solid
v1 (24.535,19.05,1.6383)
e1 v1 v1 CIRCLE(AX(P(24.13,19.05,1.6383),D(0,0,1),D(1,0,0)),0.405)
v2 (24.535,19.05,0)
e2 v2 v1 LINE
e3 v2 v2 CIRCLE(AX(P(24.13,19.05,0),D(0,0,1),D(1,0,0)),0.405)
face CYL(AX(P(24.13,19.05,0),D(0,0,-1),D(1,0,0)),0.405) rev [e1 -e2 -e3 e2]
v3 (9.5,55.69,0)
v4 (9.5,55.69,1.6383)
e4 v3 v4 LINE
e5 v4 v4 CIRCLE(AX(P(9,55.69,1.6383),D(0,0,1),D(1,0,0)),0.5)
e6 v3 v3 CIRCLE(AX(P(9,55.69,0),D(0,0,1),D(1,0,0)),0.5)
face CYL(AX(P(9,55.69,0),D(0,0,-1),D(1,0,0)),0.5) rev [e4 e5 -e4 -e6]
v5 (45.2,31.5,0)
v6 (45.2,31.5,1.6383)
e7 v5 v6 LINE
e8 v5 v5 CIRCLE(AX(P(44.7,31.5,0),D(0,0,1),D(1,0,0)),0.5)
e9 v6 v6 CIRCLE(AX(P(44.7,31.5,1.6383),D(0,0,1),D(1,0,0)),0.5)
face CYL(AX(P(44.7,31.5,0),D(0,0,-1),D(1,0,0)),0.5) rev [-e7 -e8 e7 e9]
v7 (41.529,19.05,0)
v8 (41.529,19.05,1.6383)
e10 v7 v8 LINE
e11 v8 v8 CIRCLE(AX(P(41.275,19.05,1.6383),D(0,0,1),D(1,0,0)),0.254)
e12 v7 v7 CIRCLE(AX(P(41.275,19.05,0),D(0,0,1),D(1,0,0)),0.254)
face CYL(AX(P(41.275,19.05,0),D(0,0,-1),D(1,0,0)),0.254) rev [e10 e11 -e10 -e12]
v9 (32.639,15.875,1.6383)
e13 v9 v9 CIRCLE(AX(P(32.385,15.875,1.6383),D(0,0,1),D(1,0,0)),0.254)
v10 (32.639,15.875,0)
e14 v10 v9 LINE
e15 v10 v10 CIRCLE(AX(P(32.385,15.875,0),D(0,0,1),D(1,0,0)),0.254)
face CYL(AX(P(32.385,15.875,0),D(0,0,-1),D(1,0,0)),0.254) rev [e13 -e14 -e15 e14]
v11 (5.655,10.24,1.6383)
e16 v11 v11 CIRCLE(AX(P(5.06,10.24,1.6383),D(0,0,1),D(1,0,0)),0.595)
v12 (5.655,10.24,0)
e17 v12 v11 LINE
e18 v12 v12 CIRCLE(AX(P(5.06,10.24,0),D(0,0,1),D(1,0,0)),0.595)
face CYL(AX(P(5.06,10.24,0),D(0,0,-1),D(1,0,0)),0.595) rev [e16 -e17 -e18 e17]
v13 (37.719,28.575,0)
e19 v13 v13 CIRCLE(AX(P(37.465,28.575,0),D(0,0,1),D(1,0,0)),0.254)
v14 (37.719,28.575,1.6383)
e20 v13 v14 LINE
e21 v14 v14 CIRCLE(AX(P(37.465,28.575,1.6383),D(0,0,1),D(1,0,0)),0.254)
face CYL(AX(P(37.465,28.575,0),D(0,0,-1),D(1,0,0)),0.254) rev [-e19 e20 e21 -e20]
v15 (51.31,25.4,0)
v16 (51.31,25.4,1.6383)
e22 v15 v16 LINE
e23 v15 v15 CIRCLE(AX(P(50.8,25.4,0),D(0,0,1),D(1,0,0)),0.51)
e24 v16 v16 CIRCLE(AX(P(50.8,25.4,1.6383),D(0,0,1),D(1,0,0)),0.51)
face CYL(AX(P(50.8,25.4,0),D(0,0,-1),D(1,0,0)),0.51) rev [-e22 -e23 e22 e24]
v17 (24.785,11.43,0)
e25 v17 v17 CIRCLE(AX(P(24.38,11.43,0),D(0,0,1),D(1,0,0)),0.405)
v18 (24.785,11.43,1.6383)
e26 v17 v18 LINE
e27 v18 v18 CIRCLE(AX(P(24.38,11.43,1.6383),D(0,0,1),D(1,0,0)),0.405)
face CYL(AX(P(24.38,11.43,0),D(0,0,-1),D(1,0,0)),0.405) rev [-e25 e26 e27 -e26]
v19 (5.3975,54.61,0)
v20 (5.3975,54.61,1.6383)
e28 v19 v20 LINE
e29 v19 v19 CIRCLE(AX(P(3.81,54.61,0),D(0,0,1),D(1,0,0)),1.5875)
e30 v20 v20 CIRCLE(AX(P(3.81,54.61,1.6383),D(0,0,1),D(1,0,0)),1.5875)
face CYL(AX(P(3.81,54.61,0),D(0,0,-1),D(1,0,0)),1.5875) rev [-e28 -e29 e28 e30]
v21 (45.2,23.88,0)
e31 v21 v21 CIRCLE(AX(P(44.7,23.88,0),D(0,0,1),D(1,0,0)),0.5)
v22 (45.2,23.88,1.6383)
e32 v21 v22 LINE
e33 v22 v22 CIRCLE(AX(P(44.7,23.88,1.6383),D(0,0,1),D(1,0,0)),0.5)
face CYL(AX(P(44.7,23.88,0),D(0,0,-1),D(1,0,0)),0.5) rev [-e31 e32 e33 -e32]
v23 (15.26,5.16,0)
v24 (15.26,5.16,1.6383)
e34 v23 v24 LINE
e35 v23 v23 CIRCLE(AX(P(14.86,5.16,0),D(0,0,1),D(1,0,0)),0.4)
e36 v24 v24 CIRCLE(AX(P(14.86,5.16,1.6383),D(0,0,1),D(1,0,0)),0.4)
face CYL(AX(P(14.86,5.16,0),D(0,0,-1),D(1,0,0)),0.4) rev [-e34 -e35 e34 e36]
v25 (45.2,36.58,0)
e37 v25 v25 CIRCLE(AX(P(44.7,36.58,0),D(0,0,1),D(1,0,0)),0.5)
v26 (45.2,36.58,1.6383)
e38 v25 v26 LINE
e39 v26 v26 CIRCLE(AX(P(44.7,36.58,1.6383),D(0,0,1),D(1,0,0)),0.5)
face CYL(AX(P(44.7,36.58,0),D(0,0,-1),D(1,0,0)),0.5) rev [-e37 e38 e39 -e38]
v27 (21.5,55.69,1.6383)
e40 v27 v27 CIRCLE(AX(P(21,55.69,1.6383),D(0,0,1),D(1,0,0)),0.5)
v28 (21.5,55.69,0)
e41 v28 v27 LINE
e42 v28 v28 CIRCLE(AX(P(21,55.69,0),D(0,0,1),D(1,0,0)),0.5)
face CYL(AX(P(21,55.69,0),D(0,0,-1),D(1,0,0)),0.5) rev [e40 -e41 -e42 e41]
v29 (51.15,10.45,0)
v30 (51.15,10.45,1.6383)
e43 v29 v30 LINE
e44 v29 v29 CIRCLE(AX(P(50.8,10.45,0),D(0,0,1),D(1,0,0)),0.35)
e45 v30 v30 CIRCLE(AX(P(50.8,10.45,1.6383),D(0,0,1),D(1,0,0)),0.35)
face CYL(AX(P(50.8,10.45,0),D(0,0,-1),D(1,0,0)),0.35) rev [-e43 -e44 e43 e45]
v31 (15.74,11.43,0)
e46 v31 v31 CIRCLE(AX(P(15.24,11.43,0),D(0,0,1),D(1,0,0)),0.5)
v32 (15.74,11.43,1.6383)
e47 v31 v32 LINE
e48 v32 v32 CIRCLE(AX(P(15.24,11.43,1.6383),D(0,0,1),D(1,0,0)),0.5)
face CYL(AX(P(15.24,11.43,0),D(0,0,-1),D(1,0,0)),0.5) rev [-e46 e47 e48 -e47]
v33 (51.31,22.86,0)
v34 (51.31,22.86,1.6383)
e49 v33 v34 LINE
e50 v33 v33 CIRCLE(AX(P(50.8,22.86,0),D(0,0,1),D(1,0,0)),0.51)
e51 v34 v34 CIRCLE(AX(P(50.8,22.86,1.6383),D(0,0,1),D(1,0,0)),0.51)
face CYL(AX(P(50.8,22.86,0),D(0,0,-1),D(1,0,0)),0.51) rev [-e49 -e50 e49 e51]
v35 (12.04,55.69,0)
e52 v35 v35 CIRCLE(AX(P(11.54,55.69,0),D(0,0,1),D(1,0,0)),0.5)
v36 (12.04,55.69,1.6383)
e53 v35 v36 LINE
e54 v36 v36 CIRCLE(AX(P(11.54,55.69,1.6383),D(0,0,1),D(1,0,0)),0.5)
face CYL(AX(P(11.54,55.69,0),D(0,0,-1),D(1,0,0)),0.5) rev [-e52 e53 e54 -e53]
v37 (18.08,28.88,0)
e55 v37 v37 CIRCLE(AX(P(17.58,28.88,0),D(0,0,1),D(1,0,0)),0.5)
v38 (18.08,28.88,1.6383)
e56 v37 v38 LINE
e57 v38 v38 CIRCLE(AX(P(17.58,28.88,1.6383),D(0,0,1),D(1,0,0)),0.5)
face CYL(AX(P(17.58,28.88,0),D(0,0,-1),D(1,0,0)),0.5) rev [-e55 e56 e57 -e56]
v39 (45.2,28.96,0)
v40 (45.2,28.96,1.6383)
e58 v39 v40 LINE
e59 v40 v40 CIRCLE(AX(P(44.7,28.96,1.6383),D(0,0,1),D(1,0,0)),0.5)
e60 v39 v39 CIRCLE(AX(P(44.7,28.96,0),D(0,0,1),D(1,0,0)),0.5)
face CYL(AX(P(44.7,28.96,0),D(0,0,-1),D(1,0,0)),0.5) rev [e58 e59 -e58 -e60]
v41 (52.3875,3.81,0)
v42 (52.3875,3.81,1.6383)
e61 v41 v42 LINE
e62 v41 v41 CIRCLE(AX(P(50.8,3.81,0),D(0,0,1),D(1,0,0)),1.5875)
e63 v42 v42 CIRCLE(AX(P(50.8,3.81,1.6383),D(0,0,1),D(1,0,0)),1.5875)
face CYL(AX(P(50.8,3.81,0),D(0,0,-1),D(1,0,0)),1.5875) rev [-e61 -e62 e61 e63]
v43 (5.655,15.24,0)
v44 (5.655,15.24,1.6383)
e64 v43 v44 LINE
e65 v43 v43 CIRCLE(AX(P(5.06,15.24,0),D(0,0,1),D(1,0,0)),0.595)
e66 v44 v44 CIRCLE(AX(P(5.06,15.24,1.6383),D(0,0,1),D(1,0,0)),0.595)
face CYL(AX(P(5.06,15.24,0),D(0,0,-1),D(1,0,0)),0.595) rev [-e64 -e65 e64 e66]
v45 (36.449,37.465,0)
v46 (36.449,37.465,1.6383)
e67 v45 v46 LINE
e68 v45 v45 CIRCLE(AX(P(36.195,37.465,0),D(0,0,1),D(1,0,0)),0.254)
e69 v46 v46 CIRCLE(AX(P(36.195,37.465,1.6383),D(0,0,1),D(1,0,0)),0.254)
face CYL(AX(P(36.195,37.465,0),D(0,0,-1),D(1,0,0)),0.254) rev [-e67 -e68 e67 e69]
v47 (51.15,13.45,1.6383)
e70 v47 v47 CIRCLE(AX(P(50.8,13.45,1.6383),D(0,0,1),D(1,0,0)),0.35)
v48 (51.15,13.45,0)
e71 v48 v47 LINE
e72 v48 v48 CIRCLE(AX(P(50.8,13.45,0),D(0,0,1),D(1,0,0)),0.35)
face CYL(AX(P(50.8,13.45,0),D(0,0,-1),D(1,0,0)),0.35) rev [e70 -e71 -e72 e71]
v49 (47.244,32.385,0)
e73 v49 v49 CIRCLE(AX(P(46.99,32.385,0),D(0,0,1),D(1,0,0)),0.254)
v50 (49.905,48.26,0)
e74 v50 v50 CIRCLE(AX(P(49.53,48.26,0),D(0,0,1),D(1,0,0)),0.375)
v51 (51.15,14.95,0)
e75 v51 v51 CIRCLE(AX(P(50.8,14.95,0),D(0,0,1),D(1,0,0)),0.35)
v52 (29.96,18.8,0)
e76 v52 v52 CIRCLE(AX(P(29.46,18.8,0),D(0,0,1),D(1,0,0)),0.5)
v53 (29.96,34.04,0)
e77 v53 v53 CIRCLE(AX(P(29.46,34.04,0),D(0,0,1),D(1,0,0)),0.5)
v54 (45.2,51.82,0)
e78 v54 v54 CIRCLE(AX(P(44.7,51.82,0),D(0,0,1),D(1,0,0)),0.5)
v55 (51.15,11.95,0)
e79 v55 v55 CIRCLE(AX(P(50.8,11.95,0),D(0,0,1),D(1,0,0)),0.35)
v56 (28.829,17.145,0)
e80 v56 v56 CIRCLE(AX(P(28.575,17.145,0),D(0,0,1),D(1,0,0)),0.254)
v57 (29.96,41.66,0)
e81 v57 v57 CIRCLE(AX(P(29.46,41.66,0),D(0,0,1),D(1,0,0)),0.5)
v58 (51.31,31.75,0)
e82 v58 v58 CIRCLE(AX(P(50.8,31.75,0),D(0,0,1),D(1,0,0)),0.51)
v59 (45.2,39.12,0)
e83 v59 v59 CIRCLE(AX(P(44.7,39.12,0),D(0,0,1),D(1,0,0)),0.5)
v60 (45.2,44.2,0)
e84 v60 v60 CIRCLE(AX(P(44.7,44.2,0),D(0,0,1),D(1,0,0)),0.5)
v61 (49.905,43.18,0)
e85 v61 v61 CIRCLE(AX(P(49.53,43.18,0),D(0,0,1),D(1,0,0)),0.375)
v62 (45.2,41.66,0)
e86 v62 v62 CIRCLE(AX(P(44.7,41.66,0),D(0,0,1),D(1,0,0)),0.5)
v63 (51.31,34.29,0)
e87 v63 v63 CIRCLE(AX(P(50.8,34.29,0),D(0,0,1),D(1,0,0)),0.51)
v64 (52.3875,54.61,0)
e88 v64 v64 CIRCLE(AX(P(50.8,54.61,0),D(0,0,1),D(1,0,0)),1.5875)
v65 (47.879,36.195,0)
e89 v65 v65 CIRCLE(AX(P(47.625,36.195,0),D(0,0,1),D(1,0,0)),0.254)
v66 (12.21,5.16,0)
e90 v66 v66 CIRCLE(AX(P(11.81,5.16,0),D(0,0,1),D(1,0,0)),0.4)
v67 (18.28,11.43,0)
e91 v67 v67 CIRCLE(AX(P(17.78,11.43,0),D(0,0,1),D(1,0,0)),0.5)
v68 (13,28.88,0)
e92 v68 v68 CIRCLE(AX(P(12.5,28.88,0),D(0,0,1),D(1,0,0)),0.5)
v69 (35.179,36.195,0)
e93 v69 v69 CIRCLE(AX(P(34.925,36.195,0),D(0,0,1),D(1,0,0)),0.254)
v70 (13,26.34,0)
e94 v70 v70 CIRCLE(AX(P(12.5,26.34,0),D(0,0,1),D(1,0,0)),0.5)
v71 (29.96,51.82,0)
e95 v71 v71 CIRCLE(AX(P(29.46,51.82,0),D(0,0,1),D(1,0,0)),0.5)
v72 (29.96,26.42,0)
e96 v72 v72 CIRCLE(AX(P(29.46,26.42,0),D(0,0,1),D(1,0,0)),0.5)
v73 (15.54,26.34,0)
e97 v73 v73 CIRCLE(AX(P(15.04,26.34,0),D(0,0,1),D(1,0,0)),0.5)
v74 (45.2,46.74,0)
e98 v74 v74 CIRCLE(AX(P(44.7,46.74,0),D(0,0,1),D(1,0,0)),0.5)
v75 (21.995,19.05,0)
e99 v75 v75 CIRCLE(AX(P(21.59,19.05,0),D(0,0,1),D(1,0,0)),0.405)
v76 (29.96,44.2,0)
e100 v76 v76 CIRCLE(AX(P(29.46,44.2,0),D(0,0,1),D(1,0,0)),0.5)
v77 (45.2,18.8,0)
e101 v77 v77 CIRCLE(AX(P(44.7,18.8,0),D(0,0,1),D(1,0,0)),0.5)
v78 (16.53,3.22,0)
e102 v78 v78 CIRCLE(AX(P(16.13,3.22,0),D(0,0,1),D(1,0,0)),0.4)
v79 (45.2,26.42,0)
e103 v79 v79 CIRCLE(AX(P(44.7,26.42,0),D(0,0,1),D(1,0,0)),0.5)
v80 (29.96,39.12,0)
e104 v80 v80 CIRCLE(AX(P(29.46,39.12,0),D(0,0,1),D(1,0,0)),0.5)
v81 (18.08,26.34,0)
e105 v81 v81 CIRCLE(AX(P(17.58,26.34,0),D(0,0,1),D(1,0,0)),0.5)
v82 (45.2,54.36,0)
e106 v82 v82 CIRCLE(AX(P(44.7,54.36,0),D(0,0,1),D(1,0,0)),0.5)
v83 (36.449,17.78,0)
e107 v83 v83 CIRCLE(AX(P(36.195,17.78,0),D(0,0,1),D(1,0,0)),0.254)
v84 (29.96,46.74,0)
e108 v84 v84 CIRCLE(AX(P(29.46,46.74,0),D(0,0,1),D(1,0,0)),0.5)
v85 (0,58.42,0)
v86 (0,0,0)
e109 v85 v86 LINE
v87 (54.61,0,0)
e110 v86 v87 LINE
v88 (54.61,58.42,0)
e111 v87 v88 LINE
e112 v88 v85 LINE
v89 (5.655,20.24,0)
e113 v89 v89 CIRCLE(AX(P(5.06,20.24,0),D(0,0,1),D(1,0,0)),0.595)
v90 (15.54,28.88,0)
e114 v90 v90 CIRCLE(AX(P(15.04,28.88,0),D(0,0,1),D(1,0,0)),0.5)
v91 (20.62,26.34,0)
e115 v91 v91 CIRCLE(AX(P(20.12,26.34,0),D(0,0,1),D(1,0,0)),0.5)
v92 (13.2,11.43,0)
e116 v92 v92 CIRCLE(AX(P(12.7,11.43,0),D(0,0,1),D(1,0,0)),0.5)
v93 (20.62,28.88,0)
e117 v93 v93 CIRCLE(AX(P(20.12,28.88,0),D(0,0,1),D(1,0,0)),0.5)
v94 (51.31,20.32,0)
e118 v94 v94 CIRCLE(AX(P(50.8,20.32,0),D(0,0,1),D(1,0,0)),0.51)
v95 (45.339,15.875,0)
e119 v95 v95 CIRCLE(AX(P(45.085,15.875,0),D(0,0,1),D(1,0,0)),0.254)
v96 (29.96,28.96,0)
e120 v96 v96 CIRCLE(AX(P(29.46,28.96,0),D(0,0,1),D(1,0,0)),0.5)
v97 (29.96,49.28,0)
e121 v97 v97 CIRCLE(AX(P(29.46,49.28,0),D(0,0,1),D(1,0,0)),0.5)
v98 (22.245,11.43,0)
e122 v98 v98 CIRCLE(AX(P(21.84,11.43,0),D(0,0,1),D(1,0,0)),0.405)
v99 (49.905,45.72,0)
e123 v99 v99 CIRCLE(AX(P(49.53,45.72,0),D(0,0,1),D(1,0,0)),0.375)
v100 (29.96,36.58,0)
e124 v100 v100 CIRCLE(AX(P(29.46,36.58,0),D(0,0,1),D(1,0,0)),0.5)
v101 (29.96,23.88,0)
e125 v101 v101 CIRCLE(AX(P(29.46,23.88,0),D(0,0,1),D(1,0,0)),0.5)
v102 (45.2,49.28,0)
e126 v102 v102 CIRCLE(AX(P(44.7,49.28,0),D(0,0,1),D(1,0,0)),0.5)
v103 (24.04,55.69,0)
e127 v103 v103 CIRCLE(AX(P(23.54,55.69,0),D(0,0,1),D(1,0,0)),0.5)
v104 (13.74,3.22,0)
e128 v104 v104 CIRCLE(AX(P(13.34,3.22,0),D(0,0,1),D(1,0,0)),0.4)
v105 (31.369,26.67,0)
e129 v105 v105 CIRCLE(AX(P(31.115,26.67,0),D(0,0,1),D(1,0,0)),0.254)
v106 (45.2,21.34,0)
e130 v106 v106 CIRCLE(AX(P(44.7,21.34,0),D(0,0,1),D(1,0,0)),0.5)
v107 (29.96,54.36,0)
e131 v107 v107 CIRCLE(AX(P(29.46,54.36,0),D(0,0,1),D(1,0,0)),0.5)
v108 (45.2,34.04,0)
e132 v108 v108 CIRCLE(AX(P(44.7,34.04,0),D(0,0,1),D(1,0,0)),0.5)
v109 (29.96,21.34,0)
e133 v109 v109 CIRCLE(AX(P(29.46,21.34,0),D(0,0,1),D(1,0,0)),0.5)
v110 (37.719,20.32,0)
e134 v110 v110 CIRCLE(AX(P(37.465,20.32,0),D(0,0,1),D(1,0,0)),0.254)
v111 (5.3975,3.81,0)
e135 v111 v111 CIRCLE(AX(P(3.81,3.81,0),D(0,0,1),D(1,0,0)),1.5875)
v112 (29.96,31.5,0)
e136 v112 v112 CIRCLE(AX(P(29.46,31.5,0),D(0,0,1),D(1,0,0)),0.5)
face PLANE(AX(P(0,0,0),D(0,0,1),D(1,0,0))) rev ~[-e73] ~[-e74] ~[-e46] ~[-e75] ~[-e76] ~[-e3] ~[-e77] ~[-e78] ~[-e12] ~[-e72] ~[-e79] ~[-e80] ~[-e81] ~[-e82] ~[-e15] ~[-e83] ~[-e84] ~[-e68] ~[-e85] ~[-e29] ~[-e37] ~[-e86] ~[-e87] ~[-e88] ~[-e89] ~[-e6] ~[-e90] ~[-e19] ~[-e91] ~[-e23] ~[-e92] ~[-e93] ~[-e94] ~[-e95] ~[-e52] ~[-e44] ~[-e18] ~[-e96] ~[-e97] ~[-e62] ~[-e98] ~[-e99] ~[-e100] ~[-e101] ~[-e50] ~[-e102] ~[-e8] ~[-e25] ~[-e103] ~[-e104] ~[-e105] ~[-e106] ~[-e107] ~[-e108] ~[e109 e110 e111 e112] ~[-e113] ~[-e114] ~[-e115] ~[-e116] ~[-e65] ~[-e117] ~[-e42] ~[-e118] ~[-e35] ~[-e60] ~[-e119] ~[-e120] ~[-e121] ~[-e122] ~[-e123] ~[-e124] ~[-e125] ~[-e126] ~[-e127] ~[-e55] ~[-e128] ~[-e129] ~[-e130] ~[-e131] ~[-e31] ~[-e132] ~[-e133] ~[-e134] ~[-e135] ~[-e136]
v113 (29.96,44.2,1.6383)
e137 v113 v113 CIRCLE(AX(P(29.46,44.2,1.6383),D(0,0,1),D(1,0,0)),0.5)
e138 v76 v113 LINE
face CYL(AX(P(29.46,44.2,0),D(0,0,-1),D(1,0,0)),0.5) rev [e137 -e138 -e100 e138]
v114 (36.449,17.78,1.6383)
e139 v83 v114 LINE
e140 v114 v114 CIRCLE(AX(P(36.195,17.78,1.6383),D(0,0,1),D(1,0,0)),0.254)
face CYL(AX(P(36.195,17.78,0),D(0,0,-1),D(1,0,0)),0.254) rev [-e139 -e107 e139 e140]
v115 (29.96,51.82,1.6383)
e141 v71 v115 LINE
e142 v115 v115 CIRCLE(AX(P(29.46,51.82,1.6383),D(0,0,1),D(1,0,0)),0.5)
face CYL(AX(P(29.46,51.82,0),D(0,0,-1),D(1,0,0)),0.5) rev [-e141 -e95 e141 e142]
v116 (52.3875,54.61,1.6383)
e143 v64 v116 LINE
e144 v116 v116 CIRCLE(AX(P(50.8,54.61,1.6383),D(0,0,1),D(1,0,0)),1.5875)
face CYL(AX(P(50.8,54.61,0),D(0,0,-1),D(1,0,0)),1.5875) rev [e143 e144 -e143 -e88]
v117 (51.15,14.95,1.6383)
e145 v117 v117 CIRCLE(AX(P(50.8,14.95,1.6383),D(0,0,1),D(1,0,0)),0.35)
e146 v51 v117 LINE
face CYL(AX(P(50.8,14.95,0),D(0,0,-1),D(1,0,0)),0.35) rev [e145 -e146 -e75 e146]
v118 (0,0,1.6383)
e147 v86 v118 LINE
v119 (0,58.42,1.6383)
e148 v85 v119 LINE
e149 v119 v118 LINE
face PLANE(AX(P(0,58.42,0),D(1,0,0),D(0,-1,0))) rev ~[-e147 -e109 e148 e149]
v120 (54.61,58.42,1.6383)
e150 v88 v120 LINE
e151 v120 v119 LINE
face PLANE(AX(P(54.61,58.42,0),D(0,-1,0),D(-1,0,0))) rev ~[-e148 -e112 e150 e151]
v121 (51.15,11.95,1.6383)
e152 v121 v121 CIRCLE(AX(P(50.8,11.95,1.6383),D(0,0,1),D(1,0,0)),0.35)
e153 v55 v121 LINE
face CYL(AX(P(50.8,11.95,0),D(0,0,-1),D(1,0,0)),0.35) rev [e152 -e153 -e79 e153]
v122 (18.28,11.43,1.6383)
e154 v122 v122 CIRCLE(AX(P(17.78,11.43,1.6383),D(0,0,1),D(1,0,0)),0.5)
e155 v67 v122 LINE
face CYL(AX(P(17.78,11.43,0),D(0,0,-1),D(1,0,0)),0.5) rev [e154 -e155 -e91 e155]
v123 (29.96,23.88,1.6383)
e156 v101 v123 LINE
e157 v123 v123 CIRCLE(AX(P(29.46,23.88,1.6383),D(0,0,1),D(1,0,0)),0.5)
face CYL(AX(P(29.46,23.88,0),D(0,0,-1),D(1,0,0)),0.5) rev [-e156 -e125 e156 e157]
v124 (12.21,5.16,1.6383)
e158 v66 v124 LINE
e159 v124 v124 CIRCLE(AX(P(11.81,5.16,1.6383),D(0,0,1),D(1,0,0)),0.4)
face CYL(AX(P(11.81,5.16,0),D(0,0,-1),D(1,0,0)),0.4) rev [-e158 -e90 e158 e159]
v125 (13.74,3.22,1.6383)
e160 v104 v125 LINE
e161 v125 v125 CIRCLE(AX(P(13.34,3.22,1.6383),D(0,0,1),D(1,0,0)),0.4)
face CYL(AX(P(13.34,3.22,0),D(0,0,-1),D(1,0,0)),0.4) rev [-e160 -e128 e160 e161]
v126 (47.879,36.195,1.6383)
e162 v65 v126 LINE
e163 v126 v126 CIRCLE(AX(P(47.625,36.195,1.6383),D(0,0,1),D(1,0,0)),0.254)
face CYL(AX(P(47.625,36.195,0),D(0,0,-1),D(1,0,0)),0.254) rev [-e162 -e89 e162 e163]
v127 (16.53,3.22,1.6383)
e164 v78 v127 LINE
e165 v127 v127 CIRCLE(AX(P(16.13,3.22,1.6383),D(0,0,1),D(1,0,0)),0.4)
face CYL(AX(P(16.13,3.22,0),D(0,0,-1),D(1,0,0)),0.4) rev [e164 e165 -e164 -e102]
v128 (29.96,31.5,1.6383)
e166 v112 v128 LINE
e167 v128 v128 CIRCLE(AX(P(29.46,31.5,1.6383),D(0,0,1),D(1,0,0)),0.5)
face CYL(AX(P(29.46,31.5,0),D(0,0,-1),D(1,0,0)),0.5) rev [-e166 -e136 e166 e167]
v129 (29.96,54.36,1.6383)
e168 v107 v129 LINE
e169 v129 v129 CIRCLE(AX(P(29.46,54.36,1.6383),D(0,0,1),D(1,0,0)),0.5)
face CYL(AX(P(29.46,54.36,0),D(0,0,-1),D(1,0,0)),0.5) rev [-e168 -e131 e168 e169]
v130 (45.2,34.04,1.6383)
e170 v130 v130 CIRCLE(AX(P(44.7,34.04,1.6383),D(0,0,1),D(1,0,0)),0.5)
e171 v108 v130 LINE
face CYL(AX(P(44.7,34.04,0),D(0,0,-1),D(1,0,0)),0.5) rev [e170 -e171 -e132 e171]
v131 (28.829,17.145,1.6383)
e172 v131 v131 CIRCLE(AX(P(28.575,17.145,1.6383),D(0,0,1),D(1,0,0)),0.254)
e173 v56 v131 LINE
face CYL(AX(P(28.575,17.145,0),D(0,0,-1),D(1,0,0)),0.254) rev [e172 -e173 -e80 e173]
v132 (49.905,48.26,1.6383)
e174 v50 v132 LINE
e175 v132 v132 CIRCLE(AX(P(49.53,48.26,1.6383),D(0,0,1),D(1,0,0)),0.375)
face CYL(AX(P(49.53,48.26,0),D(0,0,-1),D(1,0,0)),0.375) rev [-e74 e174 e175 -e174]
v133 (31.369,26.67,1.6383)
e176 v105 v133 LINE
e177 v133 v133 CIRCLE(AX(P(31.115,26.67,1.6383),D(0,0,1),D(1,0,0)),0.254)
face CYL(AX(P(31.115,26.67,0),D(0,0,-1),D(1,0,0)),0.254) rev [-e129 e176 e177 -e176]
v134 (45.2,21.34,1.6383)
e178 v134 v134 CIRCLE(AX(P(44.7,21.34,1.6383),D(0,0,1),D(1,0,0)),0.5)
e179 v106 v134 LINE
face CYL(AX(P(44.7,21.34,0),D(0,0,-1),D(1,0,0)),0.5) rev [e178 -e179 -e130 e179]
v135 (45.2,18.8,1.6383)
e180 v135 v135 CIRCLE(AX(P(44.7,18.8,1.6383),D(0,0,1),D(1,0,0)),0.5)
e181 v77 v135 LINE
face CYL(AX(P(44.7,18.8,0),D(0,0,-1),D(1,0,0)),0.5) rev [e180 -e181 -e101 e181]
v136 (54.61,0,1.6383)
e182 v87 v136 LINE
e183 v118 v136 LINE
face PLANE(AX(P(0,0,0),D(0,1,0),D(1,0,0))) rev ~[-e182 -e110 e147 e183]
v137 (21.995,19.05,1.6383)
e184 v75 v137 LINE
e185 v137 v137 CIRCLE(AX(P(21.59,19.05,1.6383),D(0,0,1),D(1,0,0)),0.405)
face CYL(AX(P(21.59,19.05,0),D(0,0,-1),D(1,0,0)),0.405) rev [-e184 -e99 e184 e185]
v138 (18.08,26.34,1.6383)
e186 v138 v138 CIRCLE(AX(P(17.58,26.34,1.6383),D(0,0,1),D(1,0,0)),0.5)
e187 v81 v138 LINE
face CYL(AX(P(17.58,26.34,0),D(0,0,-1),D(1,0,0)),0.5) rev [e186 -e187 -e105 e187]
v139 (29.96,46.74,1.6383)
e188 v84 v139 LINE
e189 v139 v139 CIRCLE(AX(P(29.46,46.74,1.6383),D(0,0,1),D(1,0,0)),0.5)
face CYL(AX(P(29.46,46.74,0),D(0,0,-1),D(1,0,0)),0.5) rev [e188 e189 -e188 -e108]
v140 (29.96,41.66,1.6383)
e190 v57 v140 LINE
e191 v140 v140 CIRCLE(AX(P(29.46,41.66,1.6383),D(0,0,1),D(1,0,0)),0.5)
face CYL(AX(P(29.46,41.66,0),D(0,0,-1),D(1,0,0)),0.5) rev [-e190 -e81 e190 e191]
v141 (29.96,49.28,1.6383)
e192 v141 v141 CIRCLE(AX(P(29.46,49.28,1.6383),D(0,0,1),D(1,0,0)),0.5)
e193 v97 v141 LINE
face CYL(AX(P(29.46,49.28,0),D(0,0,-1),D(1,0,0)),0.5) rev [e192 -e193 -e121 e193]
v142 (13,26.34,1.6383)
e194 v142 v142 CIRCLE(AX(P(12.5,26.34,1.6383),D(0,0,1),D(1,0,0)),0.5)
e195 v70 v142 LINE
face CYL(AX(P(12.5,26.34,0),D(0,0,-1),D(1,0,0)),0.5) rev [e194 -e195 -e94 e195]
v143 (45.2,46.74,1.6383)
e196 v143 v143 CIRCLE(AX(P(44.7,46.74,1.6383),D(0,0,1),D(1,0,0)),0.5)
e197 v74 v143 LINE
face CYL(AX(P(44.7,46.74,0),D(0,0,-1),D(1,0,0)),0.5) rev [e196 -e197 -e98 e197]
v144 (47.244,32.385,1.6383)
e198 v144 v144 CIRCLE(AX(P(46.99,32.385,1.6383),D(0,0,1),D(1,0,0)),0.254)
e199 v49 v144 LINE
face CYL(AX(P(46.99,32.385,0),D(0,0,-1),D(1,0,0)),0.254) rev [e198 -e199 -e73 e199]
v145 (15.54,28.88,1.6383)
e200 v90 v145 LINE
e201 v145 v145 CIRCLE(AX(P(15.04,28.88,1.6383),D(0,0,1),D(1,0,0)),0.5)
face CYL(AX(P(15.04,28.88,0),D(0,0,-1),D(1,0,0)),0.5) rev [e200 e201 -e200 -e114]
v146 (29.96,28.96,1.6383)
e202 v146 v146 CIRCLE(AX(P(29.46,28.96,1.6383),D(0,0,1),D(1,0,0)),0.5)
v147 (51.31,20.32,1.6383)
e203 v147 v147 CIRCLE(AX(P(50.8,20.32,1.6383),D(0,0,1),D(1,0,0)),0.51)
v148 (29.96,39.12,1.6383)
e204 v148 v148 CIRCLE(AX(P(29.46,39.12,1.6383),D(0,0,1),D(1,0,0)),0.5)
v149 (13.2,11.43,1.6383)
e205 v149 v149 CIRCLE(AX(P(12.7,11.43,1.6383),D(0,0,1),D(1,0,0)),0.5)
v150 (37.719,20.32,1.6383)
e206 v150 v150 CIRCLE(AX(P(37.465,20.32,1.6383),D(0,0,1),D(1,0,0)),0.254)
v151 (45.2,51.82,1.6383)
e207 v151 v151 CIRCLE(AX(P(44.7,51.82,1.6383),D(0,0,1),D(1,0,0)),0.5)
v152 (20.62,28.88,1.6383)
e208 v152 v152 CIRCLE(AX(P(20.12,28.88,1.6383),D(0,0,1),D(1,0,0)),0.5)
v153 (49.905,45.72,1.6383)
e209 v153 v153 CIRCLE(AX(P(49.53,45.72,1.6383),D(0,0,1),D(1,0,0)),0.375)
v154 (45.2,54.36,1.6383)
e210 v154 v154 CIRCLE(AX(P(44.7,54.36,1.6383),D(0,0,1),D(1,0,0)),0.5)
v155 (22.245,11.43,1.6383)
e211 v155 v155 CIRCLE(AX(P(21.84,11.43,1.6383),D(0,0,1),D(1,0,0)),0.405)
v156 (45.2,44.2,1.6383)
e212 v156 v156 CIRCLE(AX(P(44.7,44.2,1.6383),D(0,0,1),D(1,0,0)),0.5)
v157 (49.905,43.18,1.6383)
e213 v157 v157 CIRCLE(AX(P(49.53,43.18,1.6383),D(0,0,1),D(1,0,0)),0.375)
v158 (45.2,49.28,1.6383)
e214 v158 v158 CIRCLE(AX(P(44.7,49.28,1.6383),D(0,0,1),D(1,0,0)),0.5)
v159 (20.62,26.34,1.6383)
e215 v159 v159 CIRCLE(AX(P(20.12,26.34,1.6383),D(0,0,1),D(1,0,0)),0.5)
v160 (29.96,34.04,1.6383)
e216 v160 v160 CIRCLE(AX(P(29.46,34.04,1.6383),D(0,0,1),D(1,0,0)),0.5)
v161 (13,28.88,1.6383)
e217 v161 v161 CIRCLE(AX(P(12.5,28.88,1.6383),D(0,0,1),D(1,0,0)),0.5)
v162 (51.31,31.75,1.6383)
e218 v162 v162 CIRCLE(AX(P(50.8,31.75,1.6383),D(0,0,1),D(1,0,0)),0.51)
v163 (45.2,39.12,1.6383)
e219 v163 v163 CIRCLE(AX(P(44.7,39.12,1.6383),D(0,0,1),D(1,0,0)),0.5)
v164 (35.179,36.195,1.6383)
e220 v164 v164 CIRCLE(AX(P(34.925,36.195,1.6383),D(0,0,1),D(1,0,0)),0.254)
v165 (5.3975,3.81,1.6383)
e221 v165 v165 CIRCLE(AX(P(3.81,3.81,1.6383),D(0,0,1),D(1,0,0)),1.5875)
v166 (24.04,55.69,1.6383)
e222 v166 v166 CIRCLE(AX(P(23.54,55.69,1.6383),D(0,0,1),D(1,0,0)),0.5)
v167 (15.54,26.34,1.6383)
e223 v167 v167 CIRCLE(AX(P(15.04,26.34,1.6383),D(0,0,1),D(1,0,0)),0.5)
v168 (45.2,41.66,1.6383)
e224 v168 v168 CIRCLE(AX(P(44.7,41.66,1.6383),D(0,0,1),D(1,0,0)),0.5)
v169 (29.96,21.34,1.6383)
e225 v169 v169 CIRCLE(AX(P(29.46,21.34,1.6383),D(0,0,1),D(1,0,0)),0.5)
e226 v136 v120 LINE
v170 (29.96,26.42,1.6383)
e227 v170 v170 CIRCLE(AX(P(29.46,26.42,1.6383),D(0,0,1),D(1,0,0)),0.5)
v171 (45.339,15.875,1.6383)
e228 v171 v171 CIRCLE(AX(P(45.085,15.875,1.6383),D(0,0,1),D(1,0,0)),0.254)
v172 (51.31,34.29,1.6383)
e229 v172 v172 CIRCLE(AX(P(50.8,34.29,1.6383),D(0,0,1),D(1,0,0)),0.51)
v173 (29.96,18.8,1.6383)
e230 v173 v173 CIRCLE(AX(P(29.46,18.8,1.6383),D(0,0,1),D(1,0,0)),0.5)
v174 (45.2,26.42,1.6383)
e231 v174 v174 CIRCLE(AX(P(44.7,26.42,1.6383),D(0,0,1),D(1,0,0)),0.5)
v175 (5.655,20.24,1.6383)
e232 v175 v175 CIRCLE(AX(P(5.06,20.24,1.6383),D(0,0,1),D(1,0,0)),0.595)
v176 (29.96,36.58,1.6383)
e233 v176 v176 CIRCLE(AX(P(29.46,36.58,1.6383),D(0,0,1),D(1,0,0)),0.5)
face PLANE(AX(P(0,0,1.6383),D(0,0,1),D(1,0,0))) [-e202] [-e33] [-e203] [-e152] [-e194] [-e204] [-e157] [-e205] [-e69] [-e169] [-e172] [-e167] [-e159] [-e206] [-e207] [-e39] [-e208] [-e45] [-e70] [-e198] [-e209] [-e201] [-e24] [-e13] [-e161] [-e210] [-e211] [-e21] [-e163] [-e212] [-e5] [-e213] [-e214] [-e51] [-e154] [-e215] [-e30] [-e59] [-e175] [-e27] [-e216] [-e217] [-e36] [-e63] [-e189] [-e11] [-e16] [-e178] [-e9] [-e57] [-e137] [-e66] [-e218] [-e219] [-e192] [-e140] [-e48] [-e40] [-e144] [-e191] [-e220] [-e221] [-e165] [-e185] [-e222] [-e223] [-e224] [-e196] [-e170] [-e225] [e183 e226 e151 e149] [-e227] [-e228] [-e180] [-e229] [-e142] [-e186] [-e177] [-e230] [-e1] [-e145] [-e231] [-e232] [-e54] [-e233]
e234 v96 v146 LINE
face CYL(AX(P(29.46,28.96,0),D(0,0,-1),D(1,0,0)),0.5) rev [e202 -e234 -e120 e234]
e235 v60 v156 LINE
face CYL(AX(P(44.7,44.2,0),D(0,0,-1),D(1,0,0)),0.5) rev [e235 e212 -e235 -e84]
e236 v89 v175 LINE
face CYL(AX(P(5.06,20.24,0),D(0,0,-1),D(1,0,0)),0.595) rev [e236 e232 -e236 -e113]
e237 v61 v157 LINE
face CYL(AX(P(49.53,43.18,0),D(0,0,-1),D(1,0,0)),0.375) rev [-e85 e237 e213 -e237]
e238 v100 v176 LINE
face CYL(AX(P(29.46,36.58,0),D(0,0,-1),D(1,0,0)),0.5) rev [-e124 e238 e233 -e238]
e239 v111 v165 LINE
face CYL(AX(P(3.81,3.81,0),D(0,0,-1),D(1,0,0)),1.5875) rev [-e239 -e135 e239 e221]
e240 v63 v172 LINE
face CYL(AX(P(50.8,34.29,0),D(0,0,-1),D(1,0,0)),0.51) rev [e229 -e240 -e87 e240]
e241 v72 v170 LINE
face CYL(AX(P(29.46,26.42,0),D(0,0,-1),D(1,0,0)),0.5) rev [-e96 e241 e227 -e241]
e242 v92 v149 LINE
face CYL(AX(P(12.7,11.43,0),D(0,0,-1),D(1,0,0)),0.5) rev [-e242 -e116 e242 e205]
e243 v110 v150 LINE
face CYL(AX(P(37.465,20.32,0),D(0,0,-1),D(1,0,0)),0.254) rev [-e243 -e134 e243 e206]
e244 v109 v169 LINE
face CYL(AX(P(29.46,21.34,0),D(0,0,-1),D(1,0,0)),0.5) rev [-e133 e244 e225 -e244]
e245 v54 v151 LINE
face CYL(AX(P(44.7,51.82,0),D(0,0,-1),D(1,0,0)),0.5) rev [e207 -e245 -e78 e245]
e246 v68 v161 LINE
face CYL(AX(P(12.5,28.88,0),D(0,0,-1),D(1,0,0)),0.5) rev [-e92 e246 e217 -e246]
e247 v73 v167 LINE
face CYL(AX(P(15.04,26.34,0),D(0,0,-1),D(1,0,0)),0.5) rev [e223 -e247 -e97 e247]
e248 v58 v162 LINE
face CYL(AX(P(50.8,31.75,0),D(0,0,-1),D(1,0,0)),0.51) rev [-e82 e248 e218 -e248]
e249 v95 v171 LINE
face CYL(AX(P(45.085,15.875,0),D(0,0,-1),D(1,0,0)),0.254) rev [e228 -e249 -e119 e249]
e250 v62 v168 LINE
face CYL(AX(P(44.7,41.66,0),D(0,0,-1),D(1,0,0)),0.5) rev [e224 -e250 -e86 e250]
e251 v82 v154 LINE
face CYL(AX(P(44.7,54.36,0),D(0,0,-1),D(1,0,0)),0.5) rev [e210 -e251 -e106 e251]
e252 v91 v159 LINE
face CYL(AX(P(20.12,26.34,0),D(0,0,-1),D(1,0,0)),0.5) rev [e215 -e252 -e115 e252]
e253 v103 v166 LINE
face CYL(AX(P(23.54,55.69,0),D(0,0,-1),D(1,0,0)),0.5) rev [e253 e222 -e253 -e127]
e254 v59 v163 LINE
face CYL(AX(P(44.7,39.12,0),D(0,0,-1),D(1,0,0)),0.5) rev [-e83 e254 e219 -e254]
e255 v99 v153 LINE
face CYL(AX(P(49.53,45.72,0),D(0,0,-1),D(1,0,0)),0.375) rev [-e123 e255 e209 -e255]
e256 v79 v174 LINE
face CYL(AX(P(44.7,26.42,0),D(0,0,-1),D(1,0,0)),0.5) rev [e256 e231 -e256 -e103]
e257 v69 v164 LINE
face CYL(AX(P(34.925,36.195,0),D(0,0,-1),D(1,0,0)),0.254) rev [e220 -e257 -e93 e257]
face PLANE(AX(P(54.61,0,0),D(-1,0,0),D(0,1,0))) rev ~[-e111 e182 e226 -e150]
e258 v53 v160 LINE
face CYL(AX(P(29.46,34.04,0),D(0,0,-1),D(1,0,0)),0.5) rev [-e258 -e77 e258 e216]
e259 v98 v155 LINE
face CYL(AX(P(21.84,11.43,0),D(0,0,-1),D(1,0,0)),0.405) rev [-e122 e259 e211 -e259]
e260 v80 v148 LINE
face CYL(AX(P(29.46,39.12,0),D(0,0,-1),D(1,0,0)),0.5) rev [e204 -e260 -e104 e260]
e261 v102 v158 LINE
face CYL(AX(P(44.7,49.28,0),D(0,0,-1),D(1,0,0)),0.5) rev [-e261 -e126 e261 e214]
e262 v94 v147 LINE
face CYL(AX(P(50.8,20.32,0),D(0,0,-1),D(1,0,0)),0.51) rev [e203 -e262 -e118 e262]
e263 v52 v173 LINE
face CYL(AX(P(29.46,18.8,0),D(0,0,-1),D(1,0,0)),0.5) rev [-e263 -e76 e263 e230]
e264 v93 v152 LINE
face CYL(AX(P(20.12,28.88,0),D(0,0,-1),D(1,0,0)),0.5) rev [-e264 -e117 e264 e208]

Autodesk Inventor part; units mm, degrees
ref_plane "YZ Plane" through (0, 0, 0) normal (1, 0, 0) x (0, 1, 0)
ref_plane "XZ Plane" through (0, 0, 0) normal (0, 1, 0) x (-1, 0, 0)
ref_plane "XY Plane" through (0, 0, 0) normal (0, 0, 1) x (1, 0, 0)
sketch "Sketch1" plane through (0, 0, 0) normal (0, 0, 1) x (1, 0, 0)
  line L0 (0, 0) -> (54.61, 0)
  line L1 (54.61, 0) -> (54.61, 58.42)
  line L2 (54.61, 58.42) -> (0, 58.42)
  line L3 (0, 58.42) -> (0, 0)
  circle A0 centre (49.53, 43.18) radius 0.375
  circle A1 centre (49.53, 45.72) radius 0.375
  circle A2 centre (49.53, 48.26) radius 0.375
  circle A3 centre (21.59, 19.05) radius 0.405
  circle A4 centre (24.13, 19.05) radius 0.405
  circle A5 centre (21.84, 11.43) radius 0.405
  circle A6 centre (24.38, 11.43) radius 0.405
  circle A7 centre (50.8, 10.45) radius 0.35
  circle A8 centre (50.8, 11.95) radius 0.35
  circle A9 centre (50.8, 13.45) radius 0.35
  circle A10 centre (50.8, 14.95) radius 0.35
  circle A11 centre (50.8, 31.75) radius 0.51
  circle A12 centre (50.8, 34.29) radius 0.51
  circle A13 centre (29.46, 54.36) radius 0.5
  circle A14 centre (29.46, 51.82) radius 0.5
  circle A15 centre (29.46, 49.28) radius 0.5
  circle A16 centre (29.46, 46.74) radius 0.5
  circle A17 centre (29.46, 44.2) radius 0.5
  circle A18 centre (29.46, 41.66) radius 0.5
  circle A19 centre (29.46, 39.12) radius 0.5
  circle A20 centre (29.46, 36.58) radius 0.5
  circle A21 centre (29.46, 34.04) radius 0.5
  circle A22 centre (29.46, 31.5) radius 0.5
  circle A23 centre (29.46, 28.96) radius 0.5
  circle A24 centre (29.46, 26.42) radius 0.5
  circle A25 centre (29.46, 23.88) radius 0.5
  circle A26 centre (29.46, 21.34) radius 0.5
  circle A27 centre (29.46, 18.8) radius 0.5
  circle A28 centre (44.7, 54.36) radius 0.5
  circle A29 centre (44.7, 51.82) radius 0.5
  circle A30 centre (44.7, 49.28) radius 0.5
  circle A31 centre (44.7, 46.74) radius 0.5
  circle A32 centre (44.7, 44.2) radius 0.5
  circle A33 centre (44.7, 41.66) radius 0.5
  circle A34 centre (44.7, 39.12) radius 0.5
  circle A35 centre (44.7, 36.58) radius 0.5
  circle A36 centre (44.7, 34.04) radius 0.5
  circle A37 centre (44.7, 31.5) radius 0.5
  circle A38 centre (44.7, 28.96) radius 0.5
  circle A39 centre (44.7, 26.42) radius 0.5
  circle A40 centre (44.7, 23.88) radius 0.5
  circle A41 centre (44.7, 21.34) radius 0.5
  circle A42 centre (44.7, 18.8) radius 0.5
  circle A43 centre (50.8, 25.4) radius 0.51
  circle A44 centre (50.8, 22.86) radius 0.51
  circle A45 centre (50.8, 20.32) radius 0.51
  circle A46 centre (11.81, 5.16) radius 0.4
  circle A47 centre (13.34, 3.22) radius 0.4
  circle A48 centre (14.86, 5.16) radius 0.4
  circle A49 centre (16.13, 3.22) radius 0.4
  circle A50 centre (15.04, 26.34) radius 0.5
  circle A51 centre (15.04, 28.88) radius 0.5
  circle A52 centre (12.5, 26.34) radius 0.5
  circle A53 centre (20.12, 28.88) radius 0.5
  circle A54 centre (20.12, 26.34) radius 0.5
  circle A55 centre (17.58, 28.88) radius 0.5
  circle A56 centre (23.54, 55.69) radius 0.5
  circle A57 centre (21, 55.69) radius 0.5
  circle A58 centre (11.54, 55.69) radius 0.5
  circle A59 centre (9, 55.69) radius 0.5
  circle A60 centre (17.58, 26.34) radius 0.5
  circle A61 centre (12.5, 28.88) radius 0.5
  circle A62 centre (12.7, 11.43) radius 0.5
  circle A63 centre (15.24, 11.43) radius 0.5
  circle A64 centre (17.78, 11.43) radius 0.5
  circle A65 centre (5.06, 20.24) radius 0.595
  circle A66 centre (5.06, 15.24) radius 0.595
  circle A67 centre (5.06, 10.24) radius 0.595
  circle A68 centre (3.81, 54.61) radius 1.5875
  circle A69 centre (3.81, 3.81) radius 1.5875
  circle A70 centre (50.8, 54.61) radius 1.5875
  circle A71 centre (50.8, 3.81) radius 1.5875
  circle A72 centre (32.385, 15.875) radius 0.254
  circle A73 centre (34.925, 36.195) radius 0.254
  circle A74 centre (36.195, 17.78) radius 0.254
  circle A75 centre (36.195, 37.465) radius 0.254
  circle A76 centre (46.99, 32.385) radius 0.254
  circle A77 centre (47.625, 36.195) radius 0.254
  circle A78 centre (45.085, 15.875) radius 0.254
  circle A79 centre (37.465, 28.575) radius 0.254
  circle A80 centre (31.115, 26.67) radius 0.254
  circle A81 centre (37.465, 20.32) radius 0.254
  circle A82 centre (28.575, 17.145) radius 0.254
  circle A83 centre (41.275, 19.05) radius 0.254
extrude "estop v2.brd_Outline" add sketch "Sketch1" along normal blind 1.6383
sketch "Sketch2" plane through (0, 0, 1.6383) normal (0, 0, 1) x (1, 0, 0)
  point P0 (0, 0)
decal "Decal1"
sketch "Sketch3" plane through (0, 0, 1.6383) normal (0, 0, 1) x (1, 0, 0)
  line L0 (0, 0) -> (0, 58.374) construction
  line L1 (0, 58.374) -> (54.5957, 58.374) construction
  line L2 (54.5957, 58.374) -> (54.5957, 0) construction
  line L3 (54.5957, 0) -> (0, 0) construction
properties part number "estop v2.brd_Outline"
